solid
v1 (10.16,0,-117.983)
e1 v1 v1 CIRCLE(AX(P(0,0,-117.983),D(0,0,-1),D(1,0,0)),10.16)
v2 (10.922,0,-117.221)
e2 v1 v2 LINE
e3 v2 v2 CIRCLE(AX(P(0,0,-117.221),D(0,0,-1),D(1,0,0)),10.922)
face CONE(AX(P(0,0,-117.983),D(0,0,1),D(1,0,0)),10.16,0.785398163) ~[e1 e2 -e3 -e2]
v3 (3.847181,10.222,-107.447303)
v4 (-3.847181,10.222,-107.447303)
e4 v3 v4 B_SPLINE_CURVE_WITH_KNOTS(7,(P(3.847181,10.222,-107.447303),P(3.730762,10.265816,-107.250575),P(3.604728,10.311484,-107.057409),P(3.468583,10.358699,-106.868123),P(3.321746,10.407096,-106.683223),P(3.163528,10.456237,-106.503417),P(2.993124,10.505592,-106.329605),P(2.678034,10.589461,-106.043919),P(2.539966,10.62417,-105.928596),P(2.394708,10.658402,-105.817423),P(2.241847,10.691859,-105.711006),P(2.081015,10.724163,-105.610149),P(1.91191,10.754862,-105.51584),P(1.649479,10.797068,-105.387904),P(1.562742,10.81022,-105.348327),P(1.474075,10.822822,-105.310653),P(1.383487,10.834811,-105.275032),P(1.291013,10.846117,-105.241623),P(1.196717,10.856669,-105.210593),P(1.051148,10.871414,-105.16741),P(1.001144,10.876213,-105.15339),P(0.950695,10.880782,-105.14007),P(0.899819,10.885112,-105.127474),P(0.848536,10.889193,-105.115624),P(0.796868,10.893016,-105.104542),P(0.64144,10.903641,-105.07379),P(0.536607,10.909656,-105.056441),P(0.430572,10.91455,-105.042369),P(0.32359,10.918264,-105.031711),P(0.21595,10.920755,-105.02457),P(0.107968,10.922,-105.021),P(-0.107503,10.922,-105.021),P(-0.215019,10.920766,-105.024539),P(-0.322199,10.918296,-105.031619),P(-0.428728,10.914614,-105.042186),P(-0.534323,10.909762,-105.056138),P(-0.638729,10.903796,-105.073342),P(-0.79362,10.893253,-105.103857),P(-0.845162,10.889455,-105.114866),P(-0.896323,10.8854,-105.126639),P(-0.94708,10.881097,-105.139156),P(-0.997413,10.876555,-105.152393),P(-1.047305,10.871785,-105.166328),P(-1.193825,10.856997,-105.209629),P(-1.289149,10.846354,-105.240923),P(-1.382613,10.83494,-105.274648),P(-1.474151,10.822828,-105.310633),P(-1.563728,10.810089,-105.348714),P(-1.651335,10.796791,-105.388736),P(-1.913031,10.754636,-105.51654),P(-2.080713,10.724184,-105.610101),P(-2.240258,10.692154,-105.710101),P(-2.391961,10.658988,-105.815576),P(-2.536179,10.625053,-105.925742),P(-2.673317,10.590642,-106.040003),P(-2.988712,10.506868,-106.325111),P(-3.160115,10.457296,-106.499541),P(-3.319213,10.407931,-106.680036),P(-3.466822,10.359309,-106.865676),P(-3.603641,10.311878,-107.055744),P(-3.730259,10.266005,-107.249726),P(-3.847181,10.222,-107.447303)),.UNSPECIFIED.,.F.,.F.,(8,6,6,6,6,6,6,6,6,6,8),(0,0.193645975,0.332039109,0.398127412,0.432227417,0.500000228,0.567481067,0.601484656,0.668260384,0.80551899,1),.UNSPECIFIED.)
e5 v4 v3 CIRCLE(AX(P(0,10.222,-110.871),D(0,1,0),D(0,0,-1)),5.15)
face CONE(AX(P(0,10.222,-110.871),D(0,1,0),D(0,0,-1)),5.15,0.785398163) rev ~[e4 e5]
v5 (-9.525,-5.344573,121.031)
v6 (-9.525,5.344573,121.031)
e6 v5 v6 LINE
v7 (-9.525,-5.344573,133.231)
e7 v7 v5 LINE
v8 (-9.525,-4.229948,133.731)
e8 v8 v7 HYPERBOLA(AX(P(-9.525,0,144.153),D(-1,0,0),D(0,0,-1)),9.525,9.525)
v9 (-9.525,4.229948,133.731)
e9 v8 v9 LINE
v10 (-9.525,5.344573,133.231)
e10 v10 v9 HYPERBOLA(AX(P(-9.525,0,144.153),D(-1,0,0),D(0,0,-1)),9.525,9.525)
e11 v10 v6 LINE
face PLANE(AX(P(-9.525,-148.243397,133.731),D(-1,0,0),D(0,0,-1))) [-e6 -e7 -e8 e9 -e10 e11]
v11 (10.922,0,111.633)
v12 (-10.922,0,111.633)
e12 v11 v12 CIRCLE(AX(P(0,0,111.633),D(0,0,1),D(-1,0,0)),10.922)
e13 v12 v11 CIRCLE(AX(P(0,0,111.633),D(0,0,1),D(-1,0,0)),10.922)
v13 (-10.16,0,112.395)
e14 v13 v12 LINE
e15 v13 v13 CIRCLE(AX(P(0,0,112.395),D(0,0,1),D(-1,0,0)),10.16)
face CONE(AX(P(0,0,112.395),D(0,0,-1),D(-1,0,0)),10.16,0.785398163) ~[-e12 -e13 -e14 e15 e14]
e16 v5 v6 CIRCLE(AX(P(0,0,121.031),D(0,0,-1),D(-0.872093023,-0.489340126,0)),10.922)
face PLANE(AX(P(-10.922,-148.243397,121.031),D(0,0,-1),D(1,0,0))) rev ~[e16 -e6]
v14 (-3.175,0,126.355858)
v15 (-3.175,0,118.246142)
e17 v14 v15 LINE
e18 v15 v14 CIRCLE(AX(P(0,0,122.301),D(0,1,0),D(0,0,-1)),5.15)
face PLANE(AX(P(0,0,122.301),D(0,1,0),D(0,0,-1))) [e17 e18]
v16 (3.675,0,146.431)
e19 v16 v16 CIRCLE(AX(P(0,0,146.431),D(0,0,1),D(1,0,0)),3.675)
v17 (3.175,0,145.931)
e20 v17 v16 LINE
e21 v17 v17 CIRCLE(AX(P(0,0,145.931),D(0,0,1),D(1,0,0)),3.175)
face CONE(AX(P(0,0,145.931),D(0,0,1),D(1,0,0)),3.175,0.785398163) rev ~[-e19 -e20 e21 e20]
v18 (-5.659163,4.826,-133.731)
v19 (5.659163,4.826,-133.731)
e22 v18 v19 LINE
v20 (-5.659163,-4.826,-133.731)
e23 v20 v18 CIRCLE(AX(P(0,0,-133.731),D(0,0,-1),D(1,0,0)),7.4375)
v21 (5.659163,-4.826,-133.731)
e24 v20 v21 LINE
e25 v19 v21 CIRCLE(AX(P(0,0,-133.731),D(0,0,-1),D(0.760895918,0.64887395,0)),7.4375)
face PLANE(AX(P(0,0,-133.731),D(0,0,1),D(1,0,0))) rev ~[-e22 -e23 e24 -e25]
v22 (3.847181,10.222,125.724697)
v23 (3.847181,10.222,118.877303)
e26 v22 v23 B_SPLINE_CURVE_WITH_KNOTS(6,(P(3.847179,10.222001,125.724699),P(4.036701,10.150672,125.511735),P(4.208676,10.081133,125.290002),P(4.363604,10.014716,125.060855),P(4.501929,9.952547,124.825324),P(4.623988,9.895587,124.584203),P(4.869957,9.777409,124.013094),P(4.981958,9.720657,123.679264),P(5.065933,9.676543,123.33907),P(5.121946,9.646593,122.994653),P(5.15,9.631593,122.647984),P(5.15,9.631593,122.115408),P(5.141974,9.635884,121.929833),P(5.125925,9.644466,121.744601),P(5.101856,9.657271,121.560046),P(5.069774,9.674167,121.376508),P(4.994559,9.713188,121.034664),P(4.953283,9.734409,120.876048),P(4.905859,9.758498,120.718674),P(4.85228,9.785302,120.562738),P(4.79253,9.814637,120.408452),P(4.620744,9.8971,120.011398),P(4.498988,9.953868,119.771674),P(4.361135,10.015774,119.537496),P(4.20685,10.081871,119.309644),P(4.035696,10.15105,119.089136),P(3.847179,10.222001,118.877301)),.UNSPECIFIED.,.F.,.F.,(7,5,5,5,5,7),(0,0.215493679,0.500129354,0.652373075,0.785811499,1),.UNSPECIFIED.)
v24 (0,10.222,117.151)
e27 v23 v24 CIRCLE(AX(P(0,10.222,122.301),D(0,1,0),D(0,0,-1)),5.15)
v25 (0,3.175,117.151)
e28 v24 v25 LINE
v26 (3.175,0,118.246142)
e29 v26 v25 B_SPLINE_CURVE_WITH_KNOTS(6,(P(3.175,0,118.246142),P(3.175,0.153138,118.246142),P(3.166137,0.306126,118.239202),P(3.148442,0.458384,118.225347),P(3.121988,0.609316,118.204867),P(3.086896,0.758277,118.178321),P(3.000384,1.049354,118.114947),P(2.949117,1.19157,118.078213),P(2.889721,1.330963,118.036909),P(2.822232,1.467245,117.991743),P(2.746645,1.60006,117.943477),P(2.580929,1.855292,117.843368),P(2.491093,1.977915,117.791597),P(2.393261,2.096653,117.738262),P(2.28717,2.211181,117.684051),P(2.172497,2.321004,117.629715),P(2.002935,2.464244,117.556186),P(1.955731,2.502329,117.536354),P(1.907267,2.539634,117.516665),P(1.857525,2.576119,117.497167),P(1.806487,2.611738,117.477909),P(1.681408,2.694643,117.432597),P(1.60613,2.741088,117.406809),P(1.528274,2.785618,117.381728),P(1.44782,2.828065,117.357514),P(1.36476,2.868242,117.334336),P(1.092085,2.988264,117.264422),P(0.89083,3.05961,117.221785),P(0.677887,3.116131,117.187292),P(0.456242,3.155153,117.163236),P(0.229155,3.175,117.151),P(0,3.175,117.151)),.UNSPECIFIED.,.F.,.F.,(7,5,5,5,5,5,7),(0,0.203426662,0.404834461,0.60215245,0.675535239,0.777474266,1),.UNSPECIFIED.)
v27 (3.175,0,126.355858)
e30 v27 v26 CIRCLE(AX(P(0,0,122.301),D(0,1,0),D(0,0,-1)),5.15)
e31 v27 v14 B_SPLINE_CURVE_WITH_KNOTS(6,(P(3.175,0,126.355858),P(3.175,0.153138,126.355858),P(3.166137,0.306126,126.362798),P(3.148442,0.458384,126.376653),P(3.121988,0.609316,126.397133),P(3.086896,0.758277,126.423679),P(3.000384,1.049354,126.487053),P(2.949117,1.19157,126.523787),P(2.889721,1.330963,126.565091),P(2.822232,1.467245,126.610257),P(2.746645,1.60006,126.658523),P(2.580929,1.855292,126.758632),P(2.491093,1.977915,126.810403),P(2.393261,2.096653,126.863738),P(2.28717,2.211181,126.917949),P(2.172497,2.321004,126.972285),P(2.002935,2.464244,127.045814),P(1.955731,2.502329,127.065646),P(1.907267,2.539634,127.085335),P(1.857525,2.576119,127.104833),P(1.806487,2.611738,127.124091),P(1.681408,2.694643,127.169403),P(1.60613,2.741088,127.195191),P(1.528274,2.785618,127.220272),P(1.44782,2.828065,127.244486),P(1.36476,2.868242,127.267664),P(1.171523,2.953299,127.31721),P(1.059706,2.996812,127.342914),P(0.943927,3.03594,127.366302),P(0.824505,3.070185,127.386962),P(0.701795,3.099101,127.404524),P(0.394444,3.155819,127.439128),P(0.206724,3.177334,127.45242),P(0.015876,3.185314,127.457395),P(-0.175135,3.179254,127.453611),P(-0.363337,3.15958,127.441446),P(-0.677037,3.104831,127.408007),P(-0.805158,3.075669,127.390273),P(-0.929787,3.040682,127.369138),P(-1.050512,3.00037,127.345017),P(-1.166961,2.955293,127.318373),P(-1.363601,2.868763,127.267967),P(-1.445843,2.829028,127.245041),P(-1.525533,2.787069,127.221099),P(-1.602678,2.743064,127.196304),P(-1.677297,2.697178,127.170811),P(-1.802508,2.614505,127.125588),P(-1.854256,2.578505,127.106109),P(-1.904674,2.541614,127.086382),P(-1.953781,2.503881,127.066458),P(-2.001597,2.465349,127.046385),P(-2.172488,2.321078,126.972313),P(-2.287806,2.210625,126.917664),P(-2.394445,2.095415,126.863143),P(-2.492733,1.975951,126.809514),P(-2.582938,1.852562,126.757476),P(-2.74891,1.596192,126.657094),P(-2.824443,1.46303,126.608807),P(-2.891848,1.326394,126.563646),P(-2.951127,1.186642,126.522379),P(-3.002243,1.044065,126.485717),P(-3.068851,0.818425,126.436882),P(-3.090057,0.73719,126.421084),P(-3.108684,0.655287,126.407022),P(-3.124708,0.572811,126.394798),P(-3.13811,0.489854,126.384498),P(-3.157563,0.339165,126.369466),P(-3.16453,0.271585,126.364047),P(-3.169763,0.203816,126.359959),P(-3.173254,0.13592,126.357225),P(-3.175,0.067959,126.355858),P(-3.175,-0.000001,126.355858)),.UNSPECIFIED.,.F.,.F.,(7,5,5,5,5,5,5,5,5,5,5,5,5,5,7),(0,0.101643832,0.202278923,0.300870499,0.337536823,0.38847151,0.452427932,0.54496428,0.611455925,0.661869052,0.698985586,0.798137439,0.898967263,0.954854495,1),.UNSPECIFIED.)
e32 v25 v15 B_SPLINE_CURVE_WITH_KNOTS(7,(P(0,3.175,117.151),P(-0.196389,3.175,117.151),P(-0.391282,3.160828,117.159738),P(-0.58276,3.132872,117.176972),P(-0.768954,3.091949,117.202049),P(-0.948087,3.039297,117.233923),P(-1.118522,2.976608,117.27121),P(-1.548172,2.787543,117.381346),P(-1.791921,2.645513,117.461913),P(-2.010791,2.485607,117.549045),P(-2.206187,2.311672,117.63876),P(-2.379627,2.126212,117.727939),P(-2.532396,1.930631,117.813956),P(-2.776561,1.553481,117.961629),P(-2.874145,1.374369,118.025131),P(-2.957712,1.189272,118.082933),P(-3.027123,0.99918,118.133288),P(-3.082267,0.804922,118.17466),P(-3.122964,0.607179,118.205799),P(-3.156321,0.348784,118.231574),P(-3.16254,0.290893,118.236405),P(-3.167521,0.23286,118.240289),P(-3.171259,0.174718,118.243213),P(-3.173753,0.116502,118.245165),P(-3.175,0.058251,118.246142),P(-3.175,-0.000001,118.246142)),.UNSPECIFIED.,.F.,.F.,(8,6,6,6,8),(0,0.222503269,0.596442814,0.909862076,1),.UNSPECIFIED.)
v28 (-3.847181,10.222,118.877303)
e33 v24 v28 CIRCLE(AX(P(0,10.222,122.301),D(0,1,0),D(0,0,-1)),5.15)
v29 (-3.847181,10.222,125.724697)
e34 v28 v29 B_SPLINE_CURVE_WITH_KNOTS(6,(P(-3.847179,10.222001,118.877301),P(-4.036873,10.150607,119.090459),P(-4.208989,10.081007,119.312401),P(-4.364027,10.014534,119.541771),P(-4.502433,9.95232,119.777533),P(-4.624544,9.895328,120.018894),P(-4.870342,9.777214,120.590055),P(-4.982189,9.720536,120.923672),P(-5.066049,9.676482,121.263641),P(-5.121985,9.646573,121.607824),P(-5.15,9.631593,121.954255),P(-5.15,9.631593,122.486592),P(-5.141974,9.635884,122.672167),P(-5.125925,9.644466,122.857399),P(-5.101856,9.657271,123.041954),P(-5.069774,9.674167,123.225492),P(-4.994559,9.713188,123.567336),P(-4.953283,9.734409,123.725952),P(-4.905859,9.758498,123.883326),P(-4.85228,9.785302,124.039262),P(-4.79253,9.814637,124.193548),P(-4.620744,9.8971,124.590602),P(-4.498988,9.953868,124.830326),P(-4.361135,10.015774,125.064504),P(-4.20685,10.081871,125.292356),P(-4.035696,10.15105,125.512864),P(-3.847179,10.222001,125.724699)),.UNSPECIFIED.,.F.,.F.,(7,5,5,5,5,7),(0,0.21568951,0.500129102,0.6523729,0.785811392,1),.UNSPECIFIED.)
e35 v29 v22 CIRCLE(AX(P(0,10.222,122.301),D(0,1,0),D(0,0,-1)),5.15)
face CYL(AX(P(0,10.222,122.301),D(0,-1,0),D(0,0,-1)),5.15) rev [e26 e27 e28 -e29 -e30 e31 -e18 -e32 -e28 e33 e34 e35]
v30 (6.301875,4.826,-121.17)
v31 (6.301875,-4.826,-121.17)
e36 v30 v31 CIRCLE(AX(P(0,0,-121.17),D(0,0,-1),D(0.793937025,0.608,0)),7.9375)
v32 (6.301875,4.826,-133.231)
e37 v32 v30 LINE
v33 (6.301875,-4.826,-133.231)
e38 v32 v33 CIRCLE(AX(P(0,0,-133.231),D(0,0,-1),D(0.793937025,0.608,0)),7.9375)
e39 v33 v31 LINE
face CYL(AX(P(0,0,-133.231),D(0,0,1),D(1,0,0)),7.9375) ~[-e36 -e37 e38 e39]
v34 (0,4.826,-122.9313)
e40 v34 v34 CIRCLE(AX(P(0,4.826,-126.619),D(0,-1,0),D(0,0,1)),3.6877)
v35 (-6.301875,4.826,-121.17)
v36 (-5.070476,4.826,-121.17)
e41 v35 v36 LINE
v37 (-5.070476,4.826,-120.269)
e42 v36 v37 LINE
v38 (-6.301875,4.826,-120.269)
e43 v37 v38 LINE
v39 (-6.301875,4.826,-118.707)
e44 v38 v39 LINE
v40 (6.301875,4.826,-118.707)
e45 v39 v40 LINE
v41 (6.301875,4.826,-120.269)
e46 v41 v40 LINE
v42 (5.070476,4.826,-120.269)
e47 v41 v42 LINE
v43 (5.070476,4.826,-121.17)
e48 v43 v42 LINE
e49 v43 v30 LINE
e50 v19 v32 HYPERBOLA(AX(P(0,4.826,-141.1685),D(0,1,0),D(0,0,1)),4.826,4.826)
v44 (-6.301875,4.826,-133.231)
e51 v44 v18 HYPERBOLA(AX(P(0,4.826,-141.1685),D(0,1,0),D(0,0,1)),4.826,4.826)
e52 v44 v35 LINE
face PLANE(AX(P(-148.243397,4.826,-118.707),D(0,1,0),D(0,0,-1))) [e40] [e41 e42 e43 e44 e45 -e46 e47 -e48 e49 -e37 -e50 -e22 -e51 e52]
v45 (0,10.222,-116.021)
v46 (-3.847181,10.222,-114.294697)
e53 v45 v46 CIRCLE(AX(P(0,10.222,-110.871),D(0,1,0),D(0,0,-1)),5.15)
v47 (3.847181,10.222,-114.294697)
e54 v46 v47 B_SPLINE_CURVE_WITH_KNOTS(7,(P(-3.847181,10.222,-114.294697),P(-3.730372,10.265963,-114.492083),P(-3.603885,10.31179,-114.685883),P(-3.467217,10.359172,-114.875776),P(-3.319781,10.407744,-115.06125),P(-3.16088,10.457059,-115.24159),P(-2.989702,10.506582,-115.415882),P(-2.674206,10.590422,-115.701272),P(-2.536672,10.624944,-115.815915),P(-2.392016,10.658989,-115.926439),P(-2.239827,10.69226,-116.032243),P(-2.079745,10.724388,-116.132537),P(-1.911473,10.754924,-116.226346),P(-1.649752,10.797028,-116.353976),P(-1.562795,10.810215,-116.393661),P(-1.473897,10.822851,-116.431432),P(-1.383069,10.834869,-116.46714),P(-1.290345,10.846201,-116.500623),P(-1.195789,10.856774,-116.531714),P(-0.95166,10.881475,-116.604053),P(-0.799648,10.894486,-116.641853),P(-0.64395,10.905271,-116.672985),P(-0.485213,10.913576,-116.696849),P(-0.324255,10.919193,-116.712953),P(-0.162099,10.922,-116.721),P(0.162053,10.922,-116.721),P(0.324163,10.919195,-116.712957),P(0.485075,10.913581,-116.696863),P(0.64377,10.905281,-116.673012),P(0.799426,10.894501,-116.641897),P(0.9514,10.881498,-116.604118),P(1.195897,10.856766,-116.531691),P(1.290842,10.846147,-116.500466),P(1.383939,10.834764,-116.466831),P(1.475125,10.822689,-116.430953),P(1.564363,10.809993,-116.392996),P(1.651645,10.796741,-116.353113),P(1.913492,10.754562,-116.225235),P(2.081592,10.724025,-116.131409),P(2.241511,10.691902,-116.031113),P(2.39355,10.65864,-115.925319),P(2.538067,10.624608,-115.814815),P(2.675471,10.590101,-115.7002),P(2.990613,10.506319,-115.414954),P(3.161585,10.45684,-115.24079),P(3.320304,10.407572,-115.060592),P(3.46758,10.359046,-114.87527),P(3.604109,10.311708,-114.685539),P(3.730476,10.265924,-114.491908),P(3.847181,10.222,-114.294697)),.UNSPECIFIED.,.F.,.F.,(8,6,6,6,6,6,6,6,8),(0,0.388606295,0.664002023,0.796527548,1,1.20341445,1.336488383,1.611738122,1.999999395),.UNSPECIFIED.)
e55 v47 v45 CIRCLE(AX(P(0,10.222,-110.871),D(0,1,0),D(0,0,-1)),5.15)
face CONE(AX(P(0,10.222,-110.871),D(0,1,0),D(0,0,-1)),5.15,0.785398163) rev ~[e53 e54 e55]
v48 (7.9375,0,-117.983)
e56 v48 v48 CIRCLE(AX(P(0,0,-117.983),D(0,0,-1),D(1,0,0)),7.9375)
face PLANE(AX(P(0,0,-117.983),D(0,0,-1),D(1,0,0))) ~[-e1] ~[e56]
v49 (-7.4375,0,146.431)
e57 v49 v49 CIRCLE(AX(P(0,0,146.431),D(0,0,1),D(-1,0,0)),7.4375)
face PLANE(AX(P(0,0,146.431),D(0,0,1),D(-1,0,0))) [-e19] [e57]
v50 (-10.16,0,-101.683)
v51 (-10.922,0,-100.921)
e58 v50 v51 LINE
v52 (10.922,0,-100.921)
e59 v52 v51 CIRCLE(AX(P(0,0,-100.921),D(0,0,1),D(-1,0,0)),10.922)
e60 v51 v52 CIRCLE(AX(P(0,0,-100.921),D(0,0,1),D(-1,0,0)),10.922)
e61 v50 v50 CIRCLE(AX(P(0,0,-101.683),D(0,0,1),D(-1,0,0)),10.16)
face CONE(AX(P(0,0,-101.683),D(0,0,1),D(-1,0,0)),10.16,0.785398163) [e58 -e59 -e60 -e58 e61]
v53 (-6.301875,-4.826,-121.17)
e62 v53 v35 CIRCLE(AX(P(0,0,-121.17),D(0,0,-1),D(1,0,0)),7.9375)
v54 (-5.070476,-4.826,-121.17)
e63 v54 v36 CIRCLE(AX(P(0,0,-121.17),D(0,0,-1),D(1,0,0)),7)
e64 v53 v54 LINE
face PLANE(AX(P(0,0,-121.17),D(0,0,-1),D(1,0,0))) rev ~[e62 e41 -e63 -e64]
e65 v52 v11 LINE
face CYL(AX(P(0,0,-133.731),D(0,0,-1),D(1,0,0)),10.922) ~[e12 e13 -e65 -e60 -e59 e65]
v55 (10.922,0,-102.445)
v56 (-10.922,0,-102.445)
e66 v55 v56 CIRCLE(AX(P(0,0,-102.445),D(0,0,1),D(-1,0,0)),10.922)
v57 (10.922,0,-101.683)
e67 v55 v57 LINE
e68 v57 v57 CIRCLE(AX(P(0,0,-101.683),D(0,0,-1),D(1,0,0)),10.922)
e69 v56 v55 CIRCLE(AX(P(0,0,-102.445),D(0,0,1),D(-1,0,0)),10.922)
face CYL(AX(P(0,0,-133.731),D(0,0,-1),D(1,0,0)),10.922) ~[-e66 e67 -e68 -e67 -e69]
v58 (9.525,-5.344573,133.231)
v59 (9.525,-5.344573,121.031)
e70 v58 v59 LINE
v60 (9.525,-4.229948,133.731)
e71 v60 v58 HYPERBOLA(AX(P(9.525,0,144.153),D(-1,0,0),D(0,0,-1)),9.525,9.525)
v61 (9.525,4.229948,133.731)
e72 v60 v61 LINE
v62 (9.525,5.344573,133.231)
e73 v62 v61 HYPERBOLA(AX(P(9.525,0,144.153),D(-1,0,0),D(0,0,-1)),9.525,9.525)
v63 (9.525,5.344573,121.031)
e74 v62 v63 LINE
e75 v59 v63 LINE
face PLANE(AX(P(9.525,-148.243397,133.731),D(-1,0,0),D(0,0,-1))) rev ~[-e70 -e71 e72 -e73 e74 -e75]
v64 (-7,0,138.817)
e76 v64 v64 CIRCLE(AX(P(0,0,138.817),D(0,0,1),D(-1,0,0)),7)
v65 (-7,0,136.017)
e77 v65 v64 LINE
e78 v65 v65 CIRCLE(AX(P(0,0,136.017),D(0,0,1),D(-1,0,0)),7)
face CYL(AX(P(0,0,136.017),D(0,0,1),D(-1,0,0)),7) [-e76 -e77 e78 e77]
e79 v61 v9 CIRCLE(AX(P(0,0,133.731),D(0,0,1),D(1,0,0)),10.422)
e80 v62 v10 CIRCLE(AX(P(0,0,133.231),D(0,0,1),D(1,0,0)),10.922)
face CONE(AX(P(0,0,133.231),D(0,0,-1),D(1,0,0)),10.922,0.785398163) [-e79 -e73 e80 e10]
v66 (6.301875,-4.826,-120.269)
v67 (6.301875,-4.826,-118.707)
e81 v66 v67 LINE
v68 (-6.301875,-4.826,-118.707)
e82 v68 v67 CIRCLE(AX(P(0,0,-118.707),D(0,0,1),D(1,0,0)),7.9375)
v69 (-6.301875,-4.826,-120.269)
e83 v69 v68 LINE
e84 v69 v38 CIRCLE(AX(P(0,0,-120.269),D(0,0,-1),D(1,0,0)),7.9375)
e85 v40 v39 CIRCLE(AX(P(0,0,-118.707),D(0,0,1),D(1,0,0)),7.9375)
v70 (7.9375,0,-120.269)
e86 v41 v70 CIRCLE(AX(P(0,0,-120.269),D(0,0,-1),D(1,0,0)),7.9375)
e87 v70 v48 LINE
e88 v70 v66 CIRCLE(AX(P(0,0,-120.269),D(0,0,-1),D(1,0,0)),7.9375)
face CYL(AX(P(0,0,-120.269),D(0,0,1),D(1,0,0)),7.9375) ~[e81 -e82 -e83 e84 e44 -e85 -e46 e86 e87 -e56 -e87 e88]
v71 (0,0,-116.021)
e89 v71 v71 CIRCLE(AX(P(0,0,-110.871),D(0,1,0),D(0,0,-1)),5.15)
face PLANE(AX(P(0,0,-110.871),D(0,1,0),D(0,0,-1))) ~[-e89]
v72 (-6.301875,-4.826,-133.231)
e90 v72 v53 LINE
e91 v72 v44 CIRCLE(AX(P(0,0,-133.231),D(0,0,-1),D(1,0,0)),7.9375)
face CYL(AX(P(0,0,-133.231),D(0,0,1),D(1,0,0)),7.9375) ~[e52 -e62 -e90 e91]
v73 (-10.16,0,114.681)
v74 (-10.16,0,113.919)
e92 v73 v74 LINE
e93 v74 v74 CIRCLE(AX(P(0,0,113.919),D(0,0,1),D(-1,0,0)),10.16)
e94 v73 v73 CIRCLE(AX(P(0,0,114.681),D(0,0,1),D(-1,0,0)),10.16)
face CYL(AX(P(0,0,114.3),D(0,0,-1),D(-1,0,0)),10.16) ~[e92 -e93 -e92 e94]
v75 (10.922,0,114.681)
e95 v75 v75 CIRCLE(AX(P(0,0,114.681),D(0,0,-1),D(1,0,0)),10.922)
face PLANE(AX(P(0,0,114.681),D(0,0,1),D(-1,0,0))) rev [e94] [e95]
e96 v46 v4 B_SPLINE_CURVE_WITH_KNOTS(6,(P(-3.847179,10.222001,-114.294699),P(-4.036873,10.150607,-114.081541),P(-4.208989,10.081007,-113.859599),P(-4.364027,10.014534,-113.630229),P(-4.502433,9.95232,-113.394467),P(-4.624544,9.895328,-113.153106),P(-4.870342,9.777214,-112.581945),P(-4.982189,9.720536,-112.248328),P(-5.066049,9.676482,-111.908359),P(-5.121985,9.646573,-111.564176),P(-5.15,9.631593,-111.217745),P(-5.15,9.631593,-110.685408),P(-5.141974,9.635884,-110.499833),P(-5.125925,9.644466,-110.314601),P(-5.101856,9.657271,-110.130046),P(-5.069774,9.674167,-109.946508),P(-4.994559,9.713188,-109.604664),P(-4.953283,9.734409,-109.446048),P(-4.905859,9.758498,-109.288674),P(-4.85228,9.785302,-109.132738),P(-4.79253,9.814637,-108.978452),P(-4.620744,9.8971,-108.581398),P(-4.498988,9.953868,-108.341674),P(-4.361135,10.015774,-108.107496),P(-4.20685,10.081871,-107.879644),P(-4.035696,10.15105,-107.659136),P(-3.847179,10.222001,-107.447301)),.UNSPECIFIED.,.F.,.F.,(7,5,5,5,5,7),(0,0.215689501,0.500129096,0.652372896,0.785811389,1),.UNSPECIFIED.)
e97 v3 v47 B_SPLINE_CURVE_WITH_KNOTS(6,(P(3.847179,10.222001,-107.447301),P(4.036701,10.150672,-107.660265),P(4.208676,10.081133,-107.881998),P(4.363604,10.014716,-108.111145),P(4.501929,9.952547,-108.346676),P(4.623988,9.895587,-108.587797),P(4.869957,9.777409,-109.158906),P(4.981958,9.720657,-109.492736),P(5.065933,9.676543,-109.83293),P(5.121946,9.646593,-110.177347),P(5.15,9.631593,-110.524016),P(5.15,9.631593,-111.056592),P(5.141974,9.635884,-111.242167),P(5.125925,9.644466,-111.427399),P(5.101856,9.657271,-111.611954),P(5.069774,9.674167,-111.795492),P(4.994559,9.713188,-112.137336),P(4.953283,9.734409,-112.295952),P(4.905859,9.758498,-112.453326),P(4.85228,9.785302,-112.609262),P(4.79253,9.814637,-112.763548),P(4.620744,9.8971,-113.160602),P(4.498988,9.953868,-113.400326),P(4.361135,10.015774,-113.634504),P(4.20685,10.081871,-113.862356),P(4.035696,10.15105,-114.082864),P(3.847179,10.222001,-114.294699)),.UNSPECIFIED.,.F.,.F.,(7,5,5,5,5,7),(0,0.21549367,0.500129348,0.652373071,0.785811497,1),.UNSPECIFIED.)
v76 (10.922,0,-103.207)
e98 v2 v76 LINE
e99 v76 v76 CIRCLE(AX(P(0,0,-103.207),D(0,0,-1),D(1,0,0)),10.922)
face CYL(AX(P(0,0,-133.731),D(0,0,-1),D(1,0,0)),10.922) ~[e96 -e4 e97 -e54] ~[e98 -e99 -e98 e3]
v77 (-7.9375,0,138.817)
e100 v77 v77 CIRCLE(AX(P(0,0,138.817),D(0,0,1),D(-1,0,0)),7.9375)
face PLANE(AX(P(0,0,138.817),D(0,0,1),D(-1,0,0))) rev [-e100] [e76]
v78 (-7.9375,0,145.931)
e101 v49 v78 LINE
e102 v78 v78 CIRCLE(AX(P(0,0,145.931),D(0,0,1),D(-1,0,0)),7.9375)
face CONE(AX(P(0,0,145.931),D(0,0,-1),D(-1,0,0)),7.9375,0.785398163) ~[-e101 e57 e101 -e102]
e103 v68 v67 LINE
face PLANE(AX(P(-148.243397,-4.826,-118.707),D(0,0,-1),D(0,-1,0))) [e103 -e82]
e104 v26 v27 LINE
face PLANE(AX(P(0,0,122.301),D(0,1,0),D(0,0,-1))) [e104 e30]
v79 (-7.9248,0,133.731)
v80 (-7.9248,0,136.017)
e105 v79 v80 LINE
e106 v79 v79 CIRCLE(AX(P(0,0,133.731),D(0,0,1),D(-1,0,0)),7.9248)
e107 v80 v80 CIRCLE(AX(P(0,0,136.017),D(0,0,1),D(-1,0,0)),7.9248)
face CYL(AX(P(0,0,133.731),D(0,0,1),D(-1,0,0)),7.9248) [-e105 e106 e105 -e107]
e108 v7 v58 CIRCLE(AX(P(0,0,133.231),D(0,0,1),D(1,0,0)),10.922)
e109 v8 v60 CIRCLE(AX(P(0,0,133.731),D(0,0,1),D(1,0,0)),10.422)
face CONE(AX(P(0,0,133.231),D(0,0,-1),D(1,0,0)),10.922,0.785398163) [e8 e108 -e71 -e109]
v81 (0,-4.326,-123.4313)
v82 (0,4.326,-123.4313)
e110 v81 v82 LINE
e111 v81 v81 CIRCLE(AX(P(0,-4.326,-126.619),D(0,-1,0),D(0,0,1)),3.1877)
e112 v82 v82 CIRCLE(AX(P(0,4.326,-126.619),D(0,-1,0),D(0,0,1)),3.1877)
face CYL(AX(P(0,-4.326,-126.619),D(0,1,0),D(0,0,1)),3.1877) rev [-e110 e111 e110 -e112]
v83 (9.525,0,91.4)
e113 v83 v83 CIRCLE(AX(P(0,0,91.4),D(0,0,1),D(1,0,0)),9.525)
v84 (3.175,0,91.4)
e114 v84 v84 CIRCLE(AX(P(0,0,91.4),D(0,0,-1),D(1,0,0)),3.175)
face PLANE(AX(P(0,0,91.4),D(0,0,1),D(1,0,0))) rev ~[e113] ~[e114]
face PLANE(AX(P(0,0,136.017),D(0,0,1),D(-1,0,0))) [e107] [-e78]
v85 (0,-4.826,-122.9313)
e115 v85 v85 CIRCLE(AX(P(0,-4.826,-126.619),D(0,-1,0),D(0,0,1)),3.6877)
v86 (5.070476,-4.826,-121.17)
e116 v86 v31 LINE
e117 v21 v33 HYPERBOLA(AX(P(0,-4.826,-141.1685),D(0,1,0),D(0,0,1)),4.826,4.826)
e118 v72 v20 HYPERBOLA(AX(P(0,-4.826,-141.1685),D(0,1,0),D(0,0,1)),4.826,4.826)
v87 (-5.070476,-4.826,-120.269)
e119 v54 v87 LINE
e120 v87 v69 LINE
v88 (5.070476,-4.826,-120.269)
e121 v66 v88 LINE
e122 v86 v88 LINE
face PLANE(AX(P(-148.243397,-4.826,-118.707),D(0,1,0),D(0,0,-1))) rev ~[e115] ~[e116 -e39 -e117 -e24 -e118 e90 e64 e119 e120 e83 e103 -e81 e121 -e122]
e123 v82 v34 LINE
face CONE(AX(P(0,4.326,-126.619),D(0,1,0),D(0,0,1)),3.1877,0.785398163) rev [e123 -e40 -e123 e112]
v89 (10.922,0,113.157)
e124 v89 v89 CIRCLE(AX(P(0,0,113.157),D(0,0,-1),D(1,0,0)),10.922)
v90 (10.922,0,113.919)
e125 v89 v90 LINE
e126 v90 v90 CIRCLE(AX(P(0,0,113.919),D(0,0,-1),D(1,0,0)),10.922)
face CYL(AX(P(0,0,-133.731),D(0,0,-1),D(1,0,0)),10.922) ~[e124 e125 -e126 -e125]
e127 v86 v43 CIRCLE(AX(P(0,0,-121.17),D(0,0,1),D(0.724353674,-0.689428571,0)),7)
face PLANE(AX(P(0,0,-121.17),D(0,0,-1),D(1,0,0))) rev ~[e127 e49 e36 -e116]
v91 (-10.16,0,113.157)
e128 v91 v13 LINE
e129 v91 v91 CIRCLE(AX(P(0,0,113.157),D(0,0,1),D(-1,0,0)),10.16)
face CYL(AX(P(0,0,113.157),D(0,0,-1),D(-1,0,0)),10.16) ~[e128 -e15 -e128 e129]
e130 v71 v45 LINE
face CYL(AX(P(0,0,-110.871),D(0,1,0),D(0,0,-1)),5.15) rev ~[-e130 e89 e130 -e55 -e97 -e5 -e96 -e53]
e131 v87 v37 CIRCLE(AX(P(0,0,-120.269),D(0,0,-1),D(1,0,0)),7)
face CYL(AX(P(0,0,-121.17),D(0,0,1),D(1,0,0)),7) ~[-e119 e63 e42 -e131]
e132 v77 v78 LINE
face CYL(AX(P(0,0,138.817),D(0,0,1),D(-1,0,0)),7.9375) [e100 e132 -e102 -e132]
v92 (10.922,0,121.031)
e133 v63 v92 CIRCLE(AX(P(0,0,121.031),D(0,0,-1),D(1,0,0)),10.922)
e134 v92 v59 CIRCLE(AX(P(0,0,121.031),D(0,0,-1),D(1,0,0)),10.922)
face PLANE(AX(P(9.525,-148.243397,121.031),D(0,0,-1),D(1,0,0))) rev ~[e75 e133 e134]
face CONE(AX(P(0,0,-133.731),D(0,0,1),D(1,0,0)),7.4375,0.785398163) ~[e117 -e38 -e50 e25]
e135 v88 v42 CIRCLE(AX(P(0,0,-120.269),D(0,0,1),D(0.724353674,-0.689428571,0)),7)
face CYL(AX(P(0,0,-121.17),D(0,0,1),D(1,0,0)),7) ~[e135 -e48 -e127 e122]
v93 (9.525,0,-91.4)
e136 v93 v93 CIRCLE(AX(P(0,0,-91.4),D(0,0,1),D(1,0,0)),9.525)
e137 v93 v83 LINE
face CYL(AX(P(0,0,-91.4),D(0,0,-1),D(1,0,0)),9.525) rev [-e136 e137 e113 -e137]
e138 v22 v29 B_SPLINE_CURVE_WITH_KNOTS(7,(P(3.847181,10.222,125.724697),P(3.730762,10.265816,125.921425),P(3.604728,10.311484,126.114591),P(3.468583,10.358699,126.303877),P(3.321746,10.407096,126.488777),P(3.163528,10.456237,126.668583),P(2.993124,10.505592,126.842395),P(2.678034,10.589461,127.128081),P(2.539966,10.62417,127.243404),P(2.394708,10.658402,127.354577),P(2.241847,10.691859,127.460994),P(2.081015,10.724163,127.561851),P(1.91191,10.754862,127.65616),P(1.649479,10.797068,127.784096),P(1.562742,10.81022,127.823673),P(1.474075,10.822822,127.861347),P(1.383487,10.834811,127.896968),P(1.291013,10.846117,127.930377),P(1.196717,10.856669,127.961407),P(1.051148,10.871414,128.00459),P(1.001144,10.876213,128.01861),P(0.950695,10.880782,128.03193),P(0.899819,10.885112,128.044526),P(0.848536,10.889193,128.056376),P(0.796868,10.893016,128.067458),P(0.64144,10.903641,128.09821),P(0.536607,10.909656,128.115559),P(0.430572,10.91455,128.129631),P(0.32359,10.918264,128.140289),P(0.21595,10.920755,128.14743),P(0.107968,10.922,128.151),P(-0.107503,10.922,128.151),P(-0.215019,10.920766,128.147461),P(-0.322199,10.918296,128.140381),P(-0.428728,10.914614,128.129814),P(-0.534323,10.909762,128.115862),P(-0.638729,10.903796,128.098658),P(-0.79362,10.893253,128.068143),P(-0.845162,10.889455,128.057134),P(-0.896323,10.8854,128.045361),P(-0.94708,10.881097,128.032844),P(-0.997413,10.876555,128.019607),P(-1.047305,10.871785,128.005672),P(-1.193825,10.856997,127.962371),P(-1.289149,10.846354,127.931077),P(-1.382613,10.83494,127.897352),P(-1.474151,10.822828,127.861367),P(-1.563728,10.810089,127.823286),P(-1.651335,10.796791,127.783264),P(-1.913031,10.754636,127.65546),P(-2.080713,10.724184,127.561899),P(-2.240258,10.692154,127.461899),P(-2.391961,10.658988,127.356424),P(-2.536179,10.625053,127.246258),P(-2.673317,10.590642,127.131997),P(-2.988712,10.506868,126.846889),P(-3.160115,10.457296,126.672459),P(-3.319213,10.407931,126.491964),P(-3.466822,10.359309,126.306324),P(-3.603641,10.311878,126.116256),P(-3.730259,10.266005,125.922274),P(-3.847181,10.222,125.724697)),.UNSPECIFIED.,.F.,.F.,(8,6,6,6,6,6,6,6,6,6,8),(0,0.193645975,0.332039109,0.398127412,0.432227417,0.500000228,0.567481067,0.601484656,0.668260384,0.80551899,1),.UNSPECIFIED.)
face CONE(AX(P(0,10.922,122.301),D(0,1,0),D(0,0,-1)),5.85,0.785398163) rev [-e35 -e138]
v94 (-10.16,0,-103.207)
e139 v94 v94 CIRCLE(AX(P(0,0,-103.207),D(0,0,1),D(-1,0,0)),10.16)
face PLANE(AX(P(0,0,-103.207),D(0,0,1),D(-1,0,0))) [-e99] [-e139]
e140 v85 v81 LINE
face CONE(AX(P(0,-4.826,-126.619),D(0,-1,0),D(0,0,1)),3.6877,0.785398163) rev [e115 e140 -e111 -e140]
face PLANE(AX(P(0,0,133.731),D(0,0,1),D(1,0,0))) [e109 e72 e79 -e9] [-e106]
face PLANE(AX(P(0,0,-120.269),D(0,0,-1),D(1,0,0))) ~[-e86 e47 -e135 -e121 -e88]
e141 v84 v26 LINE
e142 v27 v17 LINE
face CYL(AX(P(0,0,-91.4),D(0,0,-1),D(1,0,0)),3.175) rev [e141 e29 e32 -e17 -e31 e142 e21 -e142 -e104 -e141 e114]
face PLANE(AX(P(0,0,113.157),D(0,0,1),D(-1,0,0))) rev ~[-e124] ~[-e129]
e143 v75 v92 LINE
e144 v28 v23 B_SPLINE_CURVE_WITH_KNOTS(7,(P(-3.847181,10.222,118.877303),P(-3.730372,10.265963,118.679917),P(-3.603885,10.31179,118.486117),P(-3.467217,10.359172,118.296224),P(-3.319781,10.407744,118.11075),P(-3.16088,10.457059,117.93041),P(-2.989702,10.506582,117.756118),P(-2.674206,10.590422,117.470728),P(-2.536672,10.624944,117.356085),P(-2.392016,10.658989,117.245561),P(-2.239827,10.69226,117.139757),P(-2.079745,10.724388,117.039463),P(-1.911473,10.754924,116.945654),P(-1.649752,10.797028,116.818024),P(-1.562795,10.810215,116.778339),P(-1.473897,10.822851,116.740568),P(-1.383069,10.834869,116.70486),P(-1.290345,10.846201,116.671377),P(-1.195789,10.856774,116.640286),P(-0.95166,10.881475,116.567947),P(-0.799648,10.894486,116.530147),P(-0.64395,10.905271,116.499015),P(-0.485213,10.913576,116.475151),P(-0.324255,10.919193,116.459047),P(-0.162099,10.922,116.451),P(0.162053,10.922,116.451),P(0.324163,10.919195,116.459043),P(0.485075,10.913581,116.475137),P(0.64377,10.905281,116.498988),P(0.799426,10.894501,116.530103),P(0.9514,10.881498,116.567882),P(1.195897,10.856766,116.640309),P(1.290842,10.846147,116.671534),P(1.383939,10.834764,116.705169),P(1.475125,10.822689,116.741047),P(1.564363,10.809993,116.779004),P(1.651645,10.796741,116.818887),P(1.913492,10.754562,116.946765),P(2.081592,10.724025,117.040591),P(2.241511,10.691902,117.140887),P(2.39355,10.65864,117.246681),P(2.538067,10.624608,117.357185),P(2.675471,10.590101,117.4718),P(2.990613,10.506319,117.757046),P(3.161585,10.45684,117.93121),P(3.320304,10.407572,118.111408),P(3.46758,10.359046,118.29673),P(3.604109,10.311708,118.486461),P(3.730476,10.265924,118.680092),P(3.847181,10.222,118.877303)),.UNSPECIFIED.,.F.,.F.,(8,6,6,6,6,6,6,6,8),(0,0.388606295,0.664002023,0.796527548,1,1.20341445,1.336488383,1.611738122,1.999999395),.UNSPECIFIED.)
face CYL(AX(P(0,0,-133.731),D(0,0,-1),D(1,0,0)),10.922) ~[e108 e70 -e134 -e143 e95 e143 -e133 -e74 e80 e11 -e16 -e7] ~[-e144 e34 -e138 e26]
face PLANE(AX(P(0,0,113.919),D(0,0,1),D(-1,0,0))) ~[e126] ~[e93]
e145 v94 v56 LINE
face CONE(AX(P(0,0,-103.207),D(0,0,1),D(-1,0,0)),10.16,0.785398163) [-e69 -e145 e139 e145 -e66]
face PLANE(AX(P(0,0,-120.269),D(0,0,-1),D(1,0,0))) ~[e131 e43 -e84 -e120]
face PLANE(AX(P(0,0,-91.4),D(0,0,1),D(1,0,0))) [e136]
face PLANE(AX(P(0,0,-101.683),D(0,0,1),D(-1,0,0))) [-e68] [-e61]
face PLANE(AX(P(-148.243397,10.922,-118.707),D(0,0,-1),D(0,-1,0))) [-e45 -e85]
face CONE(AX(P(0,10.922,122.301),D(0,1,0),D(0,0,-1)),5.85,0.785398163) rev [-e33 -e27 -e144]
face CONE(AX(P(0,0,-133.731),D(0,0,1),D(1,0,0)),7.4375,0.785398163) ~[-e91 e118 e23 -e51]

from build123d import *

# Parameters (mm, degrees)
EXTRUDE1_DEPTH      = 133.731
EXTRUDE1_DEPTH_BACK = 133.731
SKETCH1_R           = 10.922
SKETCH3_W           = 0.762
SKETCH3_H           = 0.762
RODHOLE_START       = -237.831
SKETCH8_R           = 3.175
RODHOLE_DEPTH       = 237.831
SKETCH9_R           = 9.525
STROKECHAMBER_DEPTH = 182.8
CHAMFER1_SIZE       = 0.5
FLATS_DEPTH         = 148.243396909
FLATS_DEPTH_BACK    = 148.243396909
SKETCH4_W           = 1.397
SKETCH4_H           = 12.7
SKETCH4_W_2         = 0.5
SKETCH4_H_2         = 3.048
ENDFLATS_DEPTH      = 148.243396909
ENDFLATS_DEPTH_BACK = 148.243396909
SKETCH12_W          = 6.096
SKETCH12_H          = 15.024


with BuildPart() as part:
    # Sketch1 → Extrude1 (new, two sides: drawn at the far end of the back side and taken through both)
    with BuildSketch(Plane.XY.offset(-EXTRUDE1_DEPTH_BACK)):
        Circle(SKETCH1_R)
    extrude(amount=EXTRUDE1_DEPTH + EXTRUDE1_DEPTH_BACK)

    # Sketch2 → Nose (revolve)
    with BuildSketch(Plane(origin=(0, 0, 0), x_dir=(0, 0, -1), z_dir=(1, 0, 0)), mode=Mode.PRIVATE) as nose_sk:
        Polygon((-133.731, 7.9248), (-136.017, 7.9248), (-136.017, 7), (-138.817, 7), (-138.817, 7.9375), (-146.431, 7.9375), (-146.431, 0), (-133.731, 0), align=None)
    revolve(nose_sk.sketch.rotate(Axis((0, 0, 0), (0, 0, 1)), 90), axis=Axis((0, 0, 0), (0, 0, 1)))

    # Sketch3 → CoverGrooves (revolve, cut)
    with BuildSketch(Plane(origin=(0, 0, 0), x_dir=(0, 0, -1), z_dir=(1, 0, 0)), mode=Mode.PRIVATE) as covergrooves_sk:
        with Locations((-114.3, 10.541)):
            Rectangle(SKETCH3_W, SKETCH3_H)
        Polygon((-113.157, 10.922), (-113.157, 10.16), (-112.395, 10.16), (-111.633, 10.922), align=None)
        Polygon((103.207, 10.922), (103.207, 10.16), (102.445, 10.922), align=None)
        Polygon((101.683, 10.922), (101.683, 10.16), (100.921, 10.922), align=None)
    revolve(covergrooves_sk.sketch.rotate(Axis((0, 0, 0), (0, 0, 1)), 90), axis=Axis((0, 0, 0), (0, 0, 1)), mode=Mode.SUBTRACT)

    # Sketch7 → FrontPort (revolve, cut)
    with BuildSketch(Plane(origin=(0, 0, 0), x_dir=(0, 0, -1), z_dir=(1, 0, 0))):
        Polygon((-122.301, 10.922), (-116.451, 10.922), (-117.151, 10.222), (-117.151, 0), (-122.301, 0), align=None)
    revolve(axis=Axis((0, 0, 122.301), (0, 1, 0)), mode=Mode.SUBTRACT)

    # Sketch8 → RodHole (cut)
    with BuildSketch(Plane.XY.offset(146.431).offset(RODHOLE_START)):
        Circle(SKETCH8_R)
    extrude(amount=RODHOLE_DEPTH, mode=Mode.SUBTRACT)

    # Sketch9 → StrokeChamber (cut)
    with BuildSketch(Plane.XY.offset(-91.4)):
        Circle(SKETCH9_R)
    extrude(amount=STROKECHAMBER_DEPTH, mode=Mode.SUBTRACT)

    # Chamfer1
    chamfer1_edges = [part.edges().sort_by_distance(p)[0] for p in [
        (-10.922, 0, -133.731),
        (-3.175, 0, 146.431),
        (-10.922, 0, 133.731),
        (7.9375, 0, 146.431),
    ]]
    chamfer(chamfer1_edges, length=CHAMFER1_SIZE)

    # Sketch4 → Flats (cut, two sides: drawn at the far end of the back side and taken through both)
    with BuildSketch(Plane(origin=(0, 0, 0), x_dir=(1, 0, 0), z_dir=(0, 1, 0)).offset(-FLATS_DEPTH_BACK)):
        with Locations((10.2235, -127.381)):
            Rectangle(SKETCH4_W, SKETCH4_H)
        with Locations((10.672, 132.207)):
            Rectangle(SKETCH4_W_2, SKETCH4_H_2)
        with Locations((-10.672, 132.207)):
            Rectangle(SKETCH4_W_2, SKETCH4_H_2)
        with Locations((-10.2235, -127.381)):
            Rectangle(SKETCH4_W, SKETCH4_H)
    extrude(amount=FLATS_DEPTH + FLATS_DEPTH_BACK, mode=Mode.SUBTRACT)

    # Sketch11 → EndThreads (revolve, cut)
    with BuildSketch(Plane(origin=(0, 0, 0), x_dir=(0, 0, -1), z_dir=(1, 0, 0)), mode=Mode.PRIVATE) as endthreads_sk:
        Polygon((133.731, 7.4375), (133.231, 7.9375), (121.17, 7.9375), (121.17, 7), (120.269, 7), (120.269, 7.9375), (117.983, 7.9375), (117.983, 10.16), (117.221, 10.922), (133.731, 10.922), align=None)
    revolve(endthreads_sk.sketch.rotate(Axis((0, 0, 0), (0, 0, -1)), 90), axis=Axis((0, 0, 0), (0, 0, -1)), mode=Mode.SUBTRACT)

    # Sketch13 → RearTopPort (revolve, cut)
    with BuildSketch(Plane(origin=(0, 0, 0), x_dir=(0, 0, -1), z_dir=(1, 0, 0))):
        Polygon((110.871, 0), (116.021, 0), (116.021, 10.222), (116.721, 10.922), (110.871, 10.922), align=None)
    revolve(axis=Axis((0, 0, -110.871), (0, 1, 0)), mode=Mode.SUBTRACT)

    # Sketch12 → EndFlats (cut, two sides: drawn at the far end of the back side and taken through both)
    with BuildSketch(Plane(origin=(0, 0, 0), x_dir=(0, -1, 0), z_dir=(1, 0, 0)).offset(-ENDFLATS_DEPTH_BACK)):
        with Locations((7.874, 126.219)):
            Rectangle(SKETCH12_W, SKETCH12_H)
        with Locations((-7.874, 126.219)):
            Rectangle(SKETCH12_W, SKETCH12_H)
    extrude(amount=ENDFLATS_DEPTH + ENDFLATS_DEPTH_BACK, mode=Mode.SUBTRACT)

    # Sketch15 → ClevisPinHole (revolve, cut)
    with BuildSketch(Plane(origin=(0, 0, 0), x_dir=(0, -1, 0), z_dir=(1, 0, 0)), mode=Mode.PRIVATE) as clevispinhole_sk:
        Polygon((4.826, 130.3067), (4.326, 129.8067), (-4.326, 129.8067), (-4.826, 130.3067), (-4.826, 126.619), (4.826, 126.619), align=None)
    revolve(clevispinhole_sk.sketch.rotate(Axis((0, 0, -126.619), (0, -1, 0)), 180), axis=Axis((0, 0, -126.619), (0, -1, 0)), mode=Mode.SUBTRACT)


solid = part.part
